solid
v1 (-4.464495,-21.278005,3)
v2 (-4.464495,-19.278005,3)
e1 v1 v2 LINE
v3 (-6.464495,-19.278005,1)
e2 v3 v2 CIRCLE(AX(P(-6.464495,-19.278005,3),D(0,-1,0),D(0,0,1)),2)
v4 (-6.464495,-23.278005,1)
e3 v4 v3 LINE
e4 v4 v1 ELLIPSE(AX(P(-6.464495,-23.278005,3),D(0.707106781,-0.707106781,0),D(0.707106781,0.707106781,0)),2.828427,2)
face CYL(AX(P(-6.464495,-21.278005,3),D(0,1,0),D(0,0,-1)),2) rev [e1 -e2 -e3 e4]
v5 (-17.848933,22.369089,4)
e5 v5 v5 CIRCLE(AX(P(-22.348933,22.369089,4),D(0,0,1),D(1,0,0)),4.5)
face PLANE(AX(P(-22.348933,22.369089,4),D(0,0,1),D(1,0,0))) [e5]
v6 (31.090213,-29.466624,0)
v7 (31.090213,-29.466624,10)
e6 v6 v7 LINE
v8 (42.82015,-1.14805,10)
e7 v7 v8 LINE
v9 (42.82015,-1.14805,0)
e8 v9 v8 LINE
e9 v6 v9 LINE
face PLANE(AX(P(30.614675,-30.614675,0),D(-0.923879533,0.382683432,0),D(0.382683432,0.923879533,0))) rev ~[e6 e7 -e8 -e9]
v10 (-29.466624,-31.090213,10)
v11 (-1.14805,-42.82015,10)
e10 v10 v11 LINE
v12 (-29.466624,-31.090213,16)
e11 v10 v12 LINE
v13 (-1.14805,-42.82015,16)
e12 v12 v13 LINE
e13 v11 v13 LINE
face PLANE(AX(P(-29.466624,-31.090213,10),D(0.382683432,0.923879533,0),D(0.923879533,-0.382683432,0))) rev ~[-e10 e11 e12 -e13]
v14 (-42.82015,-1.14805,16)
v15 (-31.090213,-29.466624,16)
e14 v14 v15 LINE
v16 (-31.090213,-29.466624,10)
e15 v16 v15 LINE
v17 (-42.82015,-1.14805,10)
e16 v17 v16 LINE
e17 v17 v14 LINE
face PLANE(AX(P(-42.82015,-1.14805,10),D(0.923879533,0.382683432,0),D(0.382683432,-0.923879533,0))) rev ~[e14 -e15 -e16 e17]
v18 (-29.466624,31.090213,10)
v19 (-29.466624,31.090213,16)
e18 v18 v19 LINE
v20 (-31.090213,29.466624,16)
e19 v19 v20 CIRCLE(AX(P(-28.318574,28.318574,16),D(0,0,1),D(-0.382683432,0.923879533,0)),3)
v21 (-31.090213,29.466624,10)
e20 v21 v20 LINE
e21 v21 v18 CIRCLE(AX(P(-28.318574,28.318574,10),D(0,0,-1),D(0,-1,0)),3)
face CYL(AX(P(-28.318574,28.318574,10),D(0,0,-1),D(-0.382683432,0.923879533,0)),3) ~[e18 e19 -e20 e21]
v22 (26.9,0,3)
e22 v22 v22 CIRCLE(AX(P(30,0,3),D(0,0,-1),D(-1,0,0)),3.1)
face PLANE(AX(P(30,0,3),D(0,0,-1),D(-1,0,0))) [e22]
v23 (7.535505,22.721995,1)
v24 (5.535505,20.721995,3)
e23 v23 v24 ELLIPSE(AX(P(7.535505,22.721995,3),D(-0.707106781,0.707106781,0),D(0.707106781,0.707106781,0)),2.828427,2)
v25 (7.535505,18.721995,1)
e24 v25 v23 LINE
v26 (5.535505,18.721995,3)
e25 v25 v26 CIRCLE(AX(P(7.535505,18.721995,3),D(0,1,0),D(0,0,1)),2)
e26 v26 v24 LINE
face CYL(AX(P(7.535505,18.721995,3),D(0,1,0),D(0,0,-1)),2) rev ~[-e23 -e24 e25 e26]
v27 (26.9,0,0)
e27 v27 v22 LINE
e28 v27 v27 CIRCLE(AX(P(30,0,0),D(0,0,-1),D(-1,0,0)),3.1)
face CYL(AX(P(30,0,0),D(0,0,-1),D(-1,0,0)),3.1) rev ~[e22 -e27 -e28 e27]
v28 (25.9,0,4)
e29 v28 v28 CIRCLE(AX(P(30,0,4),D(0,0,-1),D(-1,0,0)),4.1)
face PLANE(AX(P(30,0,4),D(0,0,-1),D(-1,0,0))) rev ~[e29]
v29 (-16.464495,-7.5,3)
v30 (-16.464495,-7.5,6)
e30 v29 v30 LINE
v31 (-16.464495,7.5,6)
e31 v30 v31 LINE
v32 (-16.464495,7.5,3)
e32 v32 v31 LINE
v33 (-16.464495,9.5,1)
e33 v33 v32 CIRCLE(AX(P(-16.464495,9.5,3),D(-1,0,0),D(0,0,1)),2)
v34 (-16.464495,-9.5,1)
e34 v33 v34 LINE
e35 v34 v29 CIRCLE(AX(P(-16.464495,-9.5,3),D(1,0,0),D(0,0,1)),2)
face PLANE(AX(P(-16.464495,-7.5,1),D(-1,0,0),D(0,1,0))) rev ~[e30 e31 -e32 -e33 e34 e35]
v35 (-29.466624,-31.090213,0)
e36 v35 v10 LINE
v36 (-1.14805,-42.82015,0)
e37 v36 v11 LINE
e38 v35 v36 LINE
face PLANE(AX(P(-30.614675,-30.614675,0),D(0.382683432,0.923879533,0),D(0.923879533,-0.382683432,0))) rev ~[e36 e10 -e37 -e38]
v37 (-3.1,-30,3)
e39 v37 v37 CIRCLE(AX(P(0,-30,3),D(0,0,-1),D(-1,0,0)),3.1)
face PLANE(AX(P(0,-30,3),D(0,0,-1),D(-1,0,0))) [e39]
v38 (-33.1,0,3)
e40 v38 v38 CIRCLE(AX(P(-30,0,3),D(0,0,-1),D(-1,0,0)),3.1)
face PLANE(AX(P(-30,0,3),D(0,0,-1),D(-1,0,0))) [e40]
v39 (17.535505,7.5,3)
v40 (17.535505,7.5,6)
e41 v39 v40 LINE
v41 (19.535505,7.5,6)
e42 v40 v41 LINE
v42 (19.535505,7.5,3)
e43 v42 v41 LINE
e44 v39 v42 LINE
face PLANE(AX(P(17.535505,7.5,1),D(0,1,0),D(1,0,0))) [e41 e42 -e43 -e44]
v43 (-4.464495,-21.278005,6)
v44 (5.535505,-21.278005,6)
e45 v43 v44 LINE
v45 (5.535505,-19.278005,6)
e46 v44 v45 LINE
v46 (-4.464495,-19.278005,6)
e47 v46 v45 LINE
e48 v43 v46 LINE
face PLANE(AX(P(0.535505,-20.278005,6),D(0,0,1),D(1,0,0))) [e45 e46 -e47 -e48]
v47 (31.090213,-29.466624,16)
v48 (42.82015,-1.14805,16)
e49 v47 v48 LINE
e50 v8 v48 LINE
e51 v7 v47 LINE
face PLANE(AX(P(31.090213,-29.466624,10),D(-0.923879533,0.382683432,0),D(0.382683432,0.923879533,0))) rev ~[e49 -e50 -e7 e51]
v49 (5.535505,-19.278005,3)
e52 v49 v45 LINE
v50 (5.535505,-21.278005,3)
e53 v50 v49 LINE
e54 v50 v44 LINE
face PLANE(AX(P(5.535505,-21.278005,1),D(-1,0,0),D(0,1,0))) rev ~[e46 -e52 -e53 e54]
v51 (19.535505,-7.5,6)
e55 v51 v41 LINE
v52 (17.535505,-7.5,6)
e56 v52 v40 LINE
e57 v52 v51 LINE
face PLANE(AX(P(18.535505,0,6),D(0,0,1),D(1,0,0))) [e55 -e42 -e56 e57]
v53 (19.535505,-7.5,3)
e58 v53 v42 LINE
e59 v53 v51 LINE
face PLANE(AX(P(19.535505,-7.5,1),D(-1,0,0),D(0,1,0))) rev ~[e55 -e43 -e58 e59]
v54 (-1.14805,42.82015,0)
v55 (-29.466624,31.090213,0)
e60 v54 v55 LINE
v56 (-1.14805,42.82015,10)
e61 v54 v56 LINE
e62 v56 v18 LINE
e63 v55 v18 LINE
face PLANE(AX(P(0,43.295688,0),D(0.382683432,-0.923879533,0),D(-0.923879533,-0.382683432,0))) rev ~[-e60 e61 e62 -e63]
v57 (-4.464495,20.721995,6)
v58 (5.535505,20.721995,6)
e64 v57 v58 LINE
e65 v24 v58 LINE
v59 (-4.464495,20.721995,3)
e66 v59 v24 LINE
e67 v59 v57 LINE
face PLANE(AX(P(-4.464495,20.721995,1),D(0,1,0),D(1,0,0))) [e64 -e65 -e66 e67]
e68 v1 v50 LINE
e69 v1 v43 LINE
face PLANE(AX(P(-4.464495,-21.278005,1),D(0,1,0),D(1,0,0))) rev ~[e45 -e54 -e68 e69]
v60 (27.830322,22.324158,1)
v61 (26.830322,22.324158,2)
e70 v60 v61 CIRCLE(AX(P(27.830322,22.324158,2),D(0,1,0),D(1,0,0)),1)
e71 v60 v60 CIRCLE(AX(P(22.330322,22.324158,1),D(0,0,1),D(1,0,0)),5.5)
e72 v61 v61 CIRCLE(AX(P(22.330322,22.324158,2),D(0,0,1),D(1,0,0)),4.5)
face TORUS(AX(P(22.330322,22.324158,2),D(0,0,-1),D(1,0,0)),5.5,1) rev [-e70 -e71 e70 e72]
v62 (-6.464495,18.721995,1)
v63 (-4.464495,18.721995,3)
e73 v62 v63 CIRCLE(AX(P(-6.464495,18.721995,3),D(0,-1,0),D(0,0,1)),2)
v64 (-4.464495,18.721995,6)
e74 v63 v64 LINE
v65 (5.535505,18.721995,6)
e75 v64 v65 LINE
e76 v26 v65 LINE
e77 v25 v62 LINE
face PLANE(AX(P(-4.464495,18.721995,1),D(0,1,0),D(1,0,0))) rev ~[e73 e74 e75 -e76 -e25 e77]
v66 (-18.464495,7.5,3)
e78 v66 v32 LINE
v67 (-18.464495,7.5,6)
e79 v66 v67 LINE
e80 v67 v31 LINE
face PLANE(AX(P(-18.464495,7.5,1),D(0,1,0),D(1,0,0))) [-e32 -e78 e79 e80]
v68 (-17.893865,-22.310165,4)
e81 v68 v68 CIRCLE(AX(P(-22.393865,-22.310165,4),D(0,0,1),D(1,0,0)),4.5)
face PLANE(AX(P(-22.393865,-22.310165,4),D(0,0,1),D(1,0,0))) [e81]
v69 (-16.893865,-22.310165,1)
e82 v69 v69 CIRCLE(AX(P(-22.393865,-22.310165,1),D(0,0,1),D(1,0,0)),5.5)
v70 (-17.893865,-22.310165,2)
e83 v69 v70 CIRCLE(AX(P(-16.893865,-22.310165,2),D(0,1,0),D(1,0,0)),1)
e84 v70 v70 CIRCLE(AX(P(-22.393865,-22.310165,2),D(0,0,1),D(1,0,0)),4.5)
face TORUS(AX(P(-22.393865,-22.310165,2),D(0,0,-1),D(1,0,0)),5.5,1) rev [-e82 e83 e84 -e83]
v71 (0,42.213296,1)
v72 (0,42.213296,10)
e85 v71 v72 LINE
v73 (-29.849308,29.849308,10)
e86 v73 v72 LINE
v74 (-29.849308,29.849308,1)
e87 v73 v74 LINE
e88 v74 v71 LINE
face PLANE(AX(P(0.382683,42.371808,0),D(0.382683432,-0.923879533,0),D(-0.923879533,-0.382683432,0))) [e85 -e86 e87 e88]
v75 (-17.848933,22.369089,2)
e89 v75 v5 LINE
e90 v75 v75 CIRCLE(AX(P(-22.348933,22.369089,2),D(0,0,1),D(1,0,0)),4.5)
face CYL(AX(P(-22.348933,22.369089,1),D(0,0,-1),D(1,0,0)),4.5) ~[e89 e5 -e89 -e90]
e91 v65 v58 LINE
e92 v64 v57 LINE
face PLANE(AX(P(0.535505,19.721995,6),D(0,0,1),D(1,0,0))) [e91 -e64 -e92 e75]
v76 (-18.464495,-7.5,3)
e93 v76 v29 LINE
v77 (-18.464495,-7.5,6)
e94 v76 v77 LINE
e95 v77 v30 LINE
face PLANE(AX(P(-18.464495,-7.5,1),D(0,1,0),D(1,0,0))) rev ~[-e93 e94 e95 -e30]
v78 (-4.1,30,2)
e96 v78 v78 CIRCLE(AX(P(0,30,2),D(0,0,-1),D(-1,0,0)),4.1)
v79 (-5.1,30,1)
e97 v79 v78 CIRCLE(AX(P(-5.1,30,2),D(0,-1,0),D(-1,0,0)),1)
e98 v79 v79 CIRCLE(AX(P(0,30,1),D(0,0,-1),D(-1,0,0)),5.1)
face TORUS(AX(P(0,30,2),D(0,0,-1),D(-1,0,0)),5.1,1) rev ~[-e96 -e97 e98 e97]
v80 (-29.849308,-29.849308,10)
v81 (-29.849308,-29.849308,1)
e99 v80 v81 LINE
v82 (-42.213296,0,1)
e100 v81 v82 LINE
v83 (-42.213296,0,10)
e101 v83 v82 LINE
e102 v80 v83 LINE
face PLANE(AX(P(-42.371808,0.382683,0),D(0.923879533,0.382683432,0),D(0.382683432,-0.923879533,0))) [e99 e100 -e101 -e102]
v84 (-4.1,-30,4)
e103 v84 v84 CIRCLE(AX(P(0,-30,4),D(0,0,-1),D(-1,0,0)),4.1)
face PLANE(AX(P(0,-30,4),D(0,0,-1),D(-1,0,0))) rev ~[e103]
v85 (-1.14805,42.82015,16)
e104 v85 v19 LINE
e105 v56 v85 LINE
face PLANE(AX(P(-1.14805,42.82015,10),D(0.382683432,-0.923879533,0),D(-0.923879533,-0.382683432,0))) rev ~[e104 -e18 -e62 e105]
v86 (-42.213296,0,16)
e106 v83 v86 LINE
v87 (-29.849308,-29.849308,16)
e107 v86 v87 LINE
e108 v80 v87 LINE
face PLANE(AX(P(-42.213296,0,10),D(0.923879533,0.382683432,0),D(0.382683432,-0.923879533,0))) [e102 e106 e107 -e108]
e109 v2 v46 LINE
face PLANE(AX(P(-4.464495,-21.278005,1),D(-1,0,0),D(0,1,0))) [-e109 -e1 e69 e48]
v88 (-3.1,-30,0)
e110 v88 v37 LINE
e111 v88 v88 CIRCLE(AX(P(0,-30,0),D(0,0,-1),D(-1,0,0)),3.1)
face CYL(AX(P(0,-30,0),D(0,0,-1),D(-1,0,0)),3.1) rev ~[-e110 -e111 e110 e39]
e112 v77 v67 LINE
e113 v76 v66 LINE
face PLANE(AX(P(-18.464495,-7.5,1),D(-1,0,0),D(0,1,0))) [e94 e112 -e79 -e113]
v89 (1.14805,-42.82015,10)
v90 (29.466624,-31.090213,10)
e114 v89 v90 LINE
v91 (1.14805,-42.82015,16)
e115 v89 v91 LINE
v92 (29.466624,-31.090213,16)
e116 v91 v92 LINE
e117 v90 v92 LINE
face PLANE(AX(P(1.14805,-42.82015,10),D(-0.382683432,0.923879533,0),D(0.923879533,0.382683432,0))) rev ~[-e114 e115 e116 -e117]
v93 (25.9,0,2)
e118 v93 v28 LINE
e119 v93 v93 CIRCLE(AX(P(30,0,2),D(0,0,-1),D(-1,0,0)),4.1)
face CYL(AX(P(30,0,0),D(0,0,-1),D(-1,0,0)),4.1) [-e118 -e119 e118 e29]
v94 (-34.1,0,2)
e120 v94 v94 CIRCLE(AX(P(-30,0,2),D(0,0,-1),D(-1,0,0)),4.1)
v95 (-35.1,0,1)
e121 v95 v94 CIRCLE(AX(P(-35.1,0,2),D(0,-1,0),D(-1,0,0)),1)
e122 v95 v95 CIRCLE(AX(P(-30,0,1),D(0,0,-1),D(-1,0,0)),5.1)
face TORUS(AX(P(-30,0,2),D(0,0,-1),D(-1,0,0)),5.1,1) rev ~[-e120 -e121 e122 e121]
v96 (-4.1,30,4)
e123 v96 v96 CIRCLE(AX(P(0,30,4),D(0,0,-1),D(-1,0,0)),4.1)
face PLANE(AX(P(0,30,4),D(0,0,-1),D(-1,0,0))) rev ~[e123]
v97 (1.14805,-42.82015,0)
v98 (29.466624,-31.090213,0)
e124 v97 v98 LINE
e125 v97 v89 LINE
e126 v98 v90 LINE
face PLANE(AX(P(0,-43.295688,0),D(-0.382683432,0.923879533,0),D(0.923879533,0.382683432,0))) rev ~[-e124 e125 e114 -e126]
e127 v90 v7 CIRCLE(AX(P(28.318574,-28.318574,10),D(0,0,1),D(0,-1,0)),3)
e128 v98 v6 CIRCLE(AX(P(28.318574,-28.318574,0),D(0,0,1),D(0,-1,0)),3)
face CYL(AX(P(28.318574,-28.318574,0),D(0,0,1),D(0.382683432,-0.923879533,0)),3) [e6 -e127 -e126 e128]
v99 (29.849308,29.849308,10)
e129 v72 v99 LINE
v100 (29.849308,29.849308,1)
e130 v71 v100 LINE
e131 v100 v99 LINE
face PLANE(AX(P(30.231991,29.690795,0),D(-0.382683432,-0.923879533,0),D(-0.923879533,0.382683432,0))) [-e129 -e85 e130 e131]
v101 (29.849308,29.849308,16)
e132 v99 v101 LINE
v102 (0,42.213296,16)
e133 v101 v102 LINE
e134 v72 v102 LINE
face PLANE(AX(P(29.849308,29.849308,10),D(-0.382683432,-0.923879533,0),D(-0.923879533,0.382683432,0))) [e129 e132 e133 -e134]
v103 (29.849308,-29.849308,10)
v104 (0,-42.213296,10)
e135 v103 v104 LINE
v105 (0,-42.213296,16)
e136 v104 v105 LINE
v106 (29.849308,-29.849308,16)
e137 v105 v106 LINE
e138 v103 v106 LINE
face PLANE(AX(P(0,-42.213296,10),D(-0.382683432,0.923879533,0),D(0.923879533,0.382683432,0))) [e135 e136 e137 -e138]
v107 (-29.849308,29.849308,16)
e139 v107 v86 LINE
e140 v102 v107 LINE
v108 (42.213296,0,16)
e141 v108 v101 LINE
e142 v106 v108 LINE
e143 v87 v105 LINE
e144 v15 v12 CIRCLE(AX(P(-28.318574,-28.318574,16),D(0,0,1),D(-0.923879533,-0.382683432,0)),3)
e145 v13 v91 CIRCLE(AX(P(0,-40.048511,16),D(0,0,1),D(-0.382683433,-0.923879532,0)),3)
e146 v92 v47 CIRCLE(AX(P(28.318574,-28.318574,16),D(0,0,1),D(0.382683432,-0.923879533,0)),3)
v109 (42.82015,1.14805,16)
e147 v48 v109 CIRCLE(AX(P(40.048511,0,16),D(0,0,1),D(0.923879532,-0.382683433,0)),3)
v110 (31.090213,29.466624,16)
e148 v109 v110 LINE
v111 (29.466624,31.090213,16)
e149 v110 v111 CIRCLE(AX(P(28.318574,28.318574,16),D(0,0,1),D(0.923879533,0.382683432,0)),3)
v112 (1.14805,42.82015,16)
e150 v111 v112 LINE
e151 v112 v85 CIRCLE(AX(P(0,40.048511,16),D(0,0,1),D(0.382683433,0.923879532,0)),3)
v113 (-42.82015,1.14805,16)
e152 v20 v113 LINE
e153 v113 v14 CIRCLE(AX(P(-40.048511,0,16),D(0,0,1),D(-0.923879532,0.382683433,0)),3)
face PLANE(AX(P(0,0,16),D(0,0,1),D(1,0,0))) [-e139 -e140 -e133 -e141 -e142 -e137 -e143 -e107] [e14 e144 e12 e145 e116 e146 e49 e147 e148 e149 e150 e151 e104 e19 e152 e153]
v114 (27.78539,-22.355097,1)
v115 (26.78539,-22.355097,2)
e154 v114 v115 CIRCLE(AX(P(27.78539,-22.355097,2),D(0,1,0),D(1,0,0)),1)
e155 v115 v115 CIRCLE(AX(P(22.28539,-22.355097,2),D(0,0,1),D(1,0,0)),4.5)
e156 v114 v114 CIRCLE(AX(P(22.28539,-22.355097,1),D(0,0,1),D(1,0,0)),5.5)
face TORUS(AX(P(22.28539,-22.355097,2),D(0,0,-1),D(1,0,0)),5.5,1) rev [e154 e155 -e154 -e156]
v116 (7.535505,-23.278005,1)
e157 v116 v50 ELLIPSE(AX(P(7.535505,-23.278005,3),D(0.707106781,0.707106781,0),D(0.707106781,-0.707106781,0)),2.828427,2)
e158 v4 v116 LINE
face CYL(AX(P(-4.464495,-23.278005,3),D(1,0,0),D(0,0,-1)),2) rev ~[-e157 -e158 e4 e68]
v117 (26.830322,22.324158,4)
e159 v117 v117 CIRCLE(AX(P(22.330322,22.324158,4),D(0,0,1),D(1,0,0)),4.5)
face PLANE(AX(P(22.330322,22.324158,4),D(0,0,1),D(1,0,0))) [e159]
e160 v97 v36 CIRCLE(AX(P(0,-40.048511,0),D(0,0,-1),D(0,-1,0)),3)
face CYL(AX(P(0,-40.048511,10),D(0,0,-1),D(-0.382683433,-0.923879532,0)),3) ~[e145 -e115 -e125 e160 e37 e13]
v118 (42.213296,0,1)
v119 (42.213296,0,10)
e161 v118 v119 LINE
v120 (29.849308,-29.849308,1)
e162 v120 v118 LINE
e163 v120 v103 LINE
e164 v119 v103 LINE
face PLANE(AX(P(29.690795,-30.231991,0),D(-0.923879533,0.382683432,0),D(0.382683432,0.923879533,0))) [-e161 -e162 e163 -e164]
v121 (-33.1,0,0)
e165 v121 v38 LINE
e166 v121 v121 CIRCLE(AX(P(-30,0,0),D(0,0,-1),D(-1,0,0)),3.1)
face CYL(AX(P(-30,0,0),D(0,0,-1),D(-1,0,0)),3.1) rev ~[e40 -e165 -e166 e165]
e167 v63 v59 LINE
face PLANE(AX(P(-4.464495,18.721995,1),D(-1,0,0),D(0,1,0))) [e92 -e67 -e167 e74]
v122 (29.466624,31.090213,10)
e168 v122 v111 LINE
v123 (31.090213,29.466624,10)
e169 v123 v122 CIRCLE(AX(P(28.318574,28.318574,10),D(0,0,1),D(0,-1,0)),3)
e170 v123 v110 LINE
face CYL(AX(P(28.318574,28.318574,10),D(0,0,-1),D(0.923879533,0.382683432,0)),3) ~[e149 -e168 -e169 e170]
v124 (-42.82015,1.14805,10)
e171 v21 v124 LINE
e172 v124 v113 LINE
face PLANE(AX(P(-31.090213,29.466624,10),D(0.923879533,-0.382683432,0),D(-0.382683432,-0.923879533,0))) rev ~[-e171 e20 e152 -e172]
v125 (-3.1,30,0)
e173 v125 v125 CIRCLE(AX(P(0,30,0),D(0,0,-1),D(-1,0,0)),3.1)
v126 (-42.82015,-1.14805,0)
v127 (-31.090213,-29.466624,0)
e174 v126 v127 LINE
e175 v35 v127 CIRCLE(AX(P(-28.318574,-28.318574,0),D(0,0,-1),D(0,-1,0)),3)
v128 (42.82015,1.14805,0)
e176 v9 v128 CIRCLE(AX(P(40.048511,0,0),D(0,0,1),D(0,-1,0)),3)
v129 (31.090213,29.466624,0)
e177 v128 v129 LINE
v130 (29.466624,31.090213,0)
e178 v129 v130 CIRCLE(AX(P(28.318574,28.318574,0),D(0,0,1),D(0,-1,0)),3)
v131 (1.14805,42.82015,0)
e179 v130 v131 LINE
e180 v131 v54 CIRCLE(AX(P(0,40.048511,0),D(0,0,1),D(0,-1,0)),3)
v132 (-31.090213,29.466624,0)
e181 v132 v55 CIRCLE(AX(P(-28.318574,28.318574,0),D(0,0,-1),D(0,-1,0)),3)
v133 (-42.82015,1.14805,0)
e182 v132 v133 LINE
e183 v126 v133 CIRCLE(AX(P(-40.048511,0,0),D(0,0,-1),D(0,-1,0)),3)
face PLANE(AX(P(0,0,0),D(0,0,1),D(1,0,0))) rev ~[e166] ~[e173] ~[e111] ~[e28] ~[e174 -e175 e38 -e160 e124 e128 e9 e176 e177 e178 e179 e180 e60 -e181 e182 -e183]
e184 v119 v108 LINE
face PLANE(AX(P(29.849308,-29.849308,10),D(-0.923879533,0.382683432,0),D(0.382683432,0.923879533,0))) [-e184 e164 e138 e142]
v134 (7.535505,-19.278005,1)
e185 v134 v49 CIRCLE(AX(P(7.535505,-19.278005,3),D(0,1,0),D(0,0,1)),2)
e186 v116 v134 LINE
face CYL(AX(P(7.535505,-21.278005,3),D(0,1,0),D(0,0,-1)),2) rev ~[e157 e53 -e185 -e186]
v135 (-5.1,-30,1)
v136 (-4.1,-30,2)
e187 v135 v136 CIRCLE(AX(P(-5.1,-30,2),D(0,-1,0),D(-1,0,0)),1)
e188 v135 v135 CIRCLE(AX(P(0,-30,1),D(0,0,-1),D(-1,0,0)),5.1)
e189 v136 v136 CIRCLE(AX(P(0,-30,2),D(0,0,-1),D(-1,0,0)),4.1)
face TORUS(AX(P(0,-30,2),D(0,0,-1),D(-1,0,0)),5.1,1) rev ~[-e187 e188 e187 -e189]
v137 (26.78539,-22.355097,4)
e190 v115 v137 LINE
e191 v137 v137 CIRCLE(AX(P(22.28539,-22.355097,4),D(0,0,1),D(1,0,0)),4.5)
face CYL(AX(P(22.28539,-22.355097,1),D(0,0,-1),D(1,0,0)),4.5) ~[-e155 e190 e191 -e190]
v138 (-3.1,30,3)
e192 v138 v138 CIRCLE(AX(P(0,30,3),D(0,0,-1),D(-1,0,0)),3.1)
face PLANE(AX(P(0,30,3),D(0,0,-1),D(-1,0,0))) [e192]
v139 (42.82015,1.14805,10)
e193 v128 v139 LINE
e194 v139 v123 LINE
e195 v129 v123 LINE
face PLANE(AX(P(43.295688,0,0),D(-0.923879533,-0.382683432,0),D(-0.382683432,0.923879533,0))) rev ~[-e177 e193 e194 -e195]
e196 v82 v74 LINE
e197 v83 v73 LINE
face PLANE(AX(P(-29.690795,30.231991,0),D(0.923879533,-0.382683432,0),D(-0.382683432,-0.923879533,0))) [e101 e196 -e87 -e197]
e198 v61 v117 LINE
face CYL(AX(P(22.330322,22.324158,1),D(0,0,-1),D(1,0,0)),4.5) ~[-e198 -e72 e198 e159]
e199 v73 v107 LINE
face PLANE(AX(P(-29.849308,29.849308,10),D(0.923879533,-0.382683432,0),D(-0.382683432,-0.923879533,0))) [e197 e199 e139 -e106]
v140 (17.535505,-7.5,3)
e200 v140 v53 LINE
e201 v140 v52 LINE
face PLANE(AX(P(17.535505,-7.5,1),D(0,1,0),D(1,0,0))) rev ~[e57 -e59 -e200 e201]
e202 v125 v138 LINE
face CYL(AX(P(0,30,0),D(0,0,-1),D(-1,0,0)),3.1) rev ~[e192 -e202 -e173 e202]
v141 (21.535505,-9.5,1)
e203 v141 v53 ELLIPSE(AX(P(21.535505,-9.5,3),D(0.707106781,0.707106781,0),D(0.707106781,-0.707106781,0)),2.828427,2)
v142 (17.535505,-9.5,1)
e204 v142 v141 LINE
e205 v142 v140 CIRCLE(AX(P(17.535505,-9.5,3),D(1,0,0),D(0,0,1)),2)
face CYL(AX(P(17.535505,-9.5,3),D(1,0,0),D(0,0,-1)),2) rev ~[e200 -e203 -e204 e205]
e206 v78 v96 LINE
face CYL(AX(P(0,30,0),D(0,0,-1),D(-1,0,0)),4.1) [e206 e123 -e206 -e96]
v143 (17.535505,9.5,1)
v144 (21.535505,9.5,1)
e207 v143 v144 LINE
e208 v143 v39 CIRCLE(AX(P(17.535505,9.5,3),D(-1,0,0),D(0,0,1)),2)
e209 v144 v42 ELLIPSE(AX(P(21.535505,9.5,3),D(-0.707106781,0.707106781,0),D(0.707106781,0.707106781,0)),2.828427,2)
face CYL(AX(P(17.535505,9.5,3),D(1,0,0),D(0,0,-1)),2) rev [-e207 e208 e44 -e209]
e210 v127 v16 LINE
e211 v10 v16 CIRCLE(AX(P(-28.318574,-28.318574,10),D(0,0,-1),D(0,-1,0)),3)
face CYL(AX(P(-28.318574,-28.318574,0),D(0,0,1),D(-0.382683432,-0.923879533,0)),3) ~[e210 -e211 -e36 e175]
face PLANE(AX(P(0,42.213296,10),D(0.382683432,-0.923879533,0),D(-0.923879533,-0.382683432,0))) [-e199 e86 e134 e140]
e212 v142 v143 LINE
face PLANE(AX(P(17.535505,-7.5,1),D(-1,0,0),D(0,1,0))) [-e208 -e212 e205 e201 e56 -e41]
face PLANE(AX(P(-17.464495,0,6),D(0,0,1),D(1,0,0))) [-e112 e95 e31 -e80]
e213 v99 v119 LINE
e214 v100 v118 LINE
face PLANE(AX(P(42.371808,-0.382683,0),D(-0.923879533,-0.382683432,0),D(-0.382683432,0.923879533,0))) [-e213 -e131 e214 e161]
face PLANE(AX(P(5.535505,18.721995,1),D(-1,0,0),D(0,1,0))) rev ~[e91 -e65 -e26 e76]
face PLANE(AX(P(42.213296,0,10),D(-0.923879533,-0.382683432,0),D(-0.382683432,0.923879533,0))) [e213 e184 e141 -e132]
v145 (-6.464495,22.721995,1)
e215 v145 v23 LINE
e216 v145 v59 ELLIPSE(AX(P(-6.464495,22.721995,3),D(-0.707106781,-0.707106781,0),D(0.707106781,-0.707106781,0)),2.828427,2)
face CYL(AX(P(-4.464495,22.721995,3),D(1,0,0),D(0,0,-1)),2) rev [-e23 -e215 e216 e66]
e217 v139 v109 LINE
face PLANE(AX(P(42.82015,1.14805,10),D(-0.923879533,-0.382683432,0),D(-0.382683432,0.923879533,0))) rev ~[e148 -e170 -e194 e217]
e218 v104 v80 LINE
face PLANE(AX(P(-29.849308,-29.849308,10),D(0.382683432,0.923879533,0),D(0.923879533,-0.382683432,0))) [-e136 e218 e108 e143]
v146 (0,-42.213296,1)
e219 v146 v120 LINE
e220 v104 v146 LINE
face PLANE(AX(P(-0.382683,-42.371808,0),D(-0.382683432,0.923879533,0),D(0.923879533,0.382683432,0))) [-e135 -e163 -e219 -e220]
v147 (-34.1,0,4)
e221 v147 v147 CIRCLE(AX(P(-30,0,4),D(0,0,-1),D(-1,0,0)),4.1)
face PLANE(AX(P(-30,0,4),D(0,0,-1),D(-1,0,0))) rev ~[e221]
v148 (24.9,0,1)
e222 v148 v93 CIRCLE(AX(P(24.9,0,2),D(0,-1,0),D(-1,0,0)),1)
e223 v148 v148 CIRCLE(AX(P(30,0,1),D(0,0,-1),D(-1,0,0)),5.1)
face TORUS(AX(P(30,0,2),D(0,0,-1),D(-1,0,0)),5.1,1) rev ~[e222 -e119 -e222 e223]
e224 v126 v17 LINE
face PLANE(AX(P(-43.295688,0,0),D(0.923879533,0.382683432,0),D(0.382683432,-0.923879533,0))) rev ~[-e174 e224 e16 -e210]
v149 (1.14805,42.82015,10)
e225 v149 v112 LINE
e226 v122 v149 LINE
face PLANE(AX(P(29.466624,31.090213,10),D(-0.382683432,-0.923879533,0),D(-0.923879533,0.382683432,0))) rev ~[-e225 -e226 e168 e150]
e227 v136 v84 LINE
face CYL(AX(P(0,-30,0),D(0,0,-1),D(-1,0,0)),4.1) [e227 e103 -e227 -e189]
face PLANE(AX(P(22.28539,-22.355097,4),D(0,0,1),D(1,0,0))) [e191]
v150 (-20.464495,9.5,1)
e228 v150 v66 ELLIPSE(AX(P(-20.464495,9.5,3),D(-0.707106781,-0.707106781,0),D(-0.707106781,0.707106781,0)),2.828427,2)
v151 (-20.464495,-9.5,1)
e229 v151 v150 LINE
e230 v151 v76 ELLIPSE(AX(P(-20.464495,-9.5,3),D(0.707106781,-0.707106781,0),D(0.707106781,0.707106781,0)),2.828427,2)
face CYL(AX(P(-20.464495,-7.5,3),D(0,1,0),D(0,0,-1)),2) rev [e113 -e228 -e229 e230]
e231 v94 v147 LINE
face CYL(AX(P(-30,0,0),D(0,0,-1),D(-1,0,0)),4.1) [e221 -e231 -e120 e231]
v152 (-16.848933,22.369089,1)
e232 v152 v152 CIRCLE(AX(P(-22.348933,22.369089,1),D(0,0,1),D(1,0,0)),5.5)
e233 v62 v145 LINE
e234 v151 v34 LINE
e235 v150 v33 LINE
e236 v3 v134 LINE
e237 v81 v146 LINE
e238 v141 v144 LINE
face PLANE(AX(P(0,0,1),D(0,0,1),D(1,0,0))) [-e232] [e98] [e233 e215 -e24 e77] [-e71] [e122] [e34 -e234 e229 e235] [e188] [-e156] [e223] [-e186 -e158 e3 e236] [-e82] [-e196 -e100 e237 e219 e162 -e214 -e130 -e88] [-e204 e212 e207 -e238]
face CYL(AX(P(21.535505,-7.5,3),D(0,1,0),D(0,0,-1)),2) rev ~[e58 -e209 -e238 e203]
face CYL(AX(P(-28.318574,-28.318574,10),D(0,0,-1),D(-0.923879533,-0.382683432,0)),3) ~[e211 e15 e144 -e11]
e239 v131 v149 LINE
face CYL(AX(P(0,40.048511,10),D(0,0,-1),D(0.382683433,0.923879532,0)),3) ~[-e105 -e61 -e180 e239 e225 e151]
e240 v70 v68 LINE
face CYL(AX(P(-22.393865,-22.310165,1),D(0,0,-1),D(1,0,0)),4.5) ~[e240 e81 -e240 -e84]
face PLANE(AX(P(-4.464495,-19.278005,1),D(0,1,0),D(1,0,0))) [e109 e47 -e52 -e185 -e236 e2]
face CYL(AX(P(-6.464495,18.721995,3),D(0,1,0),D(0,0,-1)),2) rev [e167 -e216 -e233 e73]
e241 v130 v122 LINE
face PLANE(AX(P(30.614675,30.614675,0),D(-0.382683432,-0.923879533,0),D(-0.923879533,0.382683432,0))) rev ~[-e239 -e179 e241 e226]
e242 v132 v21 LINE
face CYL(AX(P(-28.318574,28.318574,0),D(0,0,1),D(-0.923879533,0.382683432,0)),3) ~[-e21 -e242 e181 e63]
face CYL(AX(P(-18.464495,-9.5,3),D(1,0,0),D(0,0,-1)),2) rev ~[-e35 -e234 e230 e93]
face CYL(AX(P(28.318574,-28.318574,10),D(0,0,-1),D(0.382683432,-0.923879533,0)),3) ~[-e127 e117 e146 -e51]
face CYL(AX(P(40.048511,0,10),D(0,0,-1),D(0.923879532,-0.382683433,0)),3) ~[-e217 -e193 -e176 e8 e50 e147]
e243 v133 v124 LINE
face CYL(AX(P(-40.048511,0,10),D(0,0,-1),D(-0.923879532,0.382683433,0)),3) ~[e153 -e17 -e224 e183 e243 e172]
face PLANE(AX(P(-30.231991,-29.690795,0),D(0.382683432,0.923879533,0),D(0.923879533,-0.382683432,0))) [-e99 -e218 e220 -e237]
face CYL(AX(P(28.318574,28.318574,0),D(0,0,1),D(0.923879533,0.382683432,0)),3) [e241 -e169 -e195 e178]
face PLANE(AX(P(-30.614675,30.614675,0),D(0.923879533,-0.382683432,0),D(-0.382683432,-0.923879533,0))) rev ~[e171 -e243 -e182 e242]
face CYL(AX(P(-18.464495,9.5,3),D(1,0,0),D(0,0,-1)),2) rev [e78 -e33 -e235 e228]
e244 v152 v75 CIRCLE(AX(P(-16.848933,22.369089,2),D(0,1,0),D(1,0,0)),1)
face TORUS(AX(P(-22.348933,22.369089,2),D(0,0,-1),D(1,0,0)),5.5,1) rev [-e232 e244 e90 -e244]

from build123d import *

# Parameters (mm, degrees)
BOSS_EXTRU_1_DEPTH      = 10
ESQUISSE2_R             = 3.1
ENL_V_MAT_EXTRU_1_DEPTH = 3
COQUE2_T                = -1
ESQUISSE5_R             = 4.5
BOSS_EXTRU_3_DEPTH      = 3
CONG_1_R                = 3
CONG_4_R                = 1
ESQUISSE6_W             = 2
ESQUISSE6_H             = 15
ESQUISSE6_W_2           = 10
ESQUISSE6_H_2           = 2
BOSS_EXTRU_4_DEPTH      = 5
CONG_5_R                = 2
BOSS_EXTRU_5_DEPTH      = 6


with BuildPart() as part:
    # Esquisse1 → Boss.-Extru.1 (new body)
    with BuildSketch(Plane.XY):
        Polygon((0, -43.295688012), (30.614674589, -30.614674589), (43.295688012, 0), (30.614674589, 30.614674589), (0, 43.295688012), (-30.614674589, 30.614674589), (-43.295688012, 0), (-30.614674589, -30.614674589), align=None)
    extrude(amount=BOSS_EXTRU_1_DEPTH)

    # Esquisse2 → Enlèv. mat.-Extru.1 (cut)
    with BuildSketch(Plane(origin=(0, 0, 0), x_dir=(-1, 0, 0), z_dir=(0, 0, -1))):
        with Locations((0, 30)):
            Circle(ESQUISSE2_R)
        with Locations((30, 0)):
            Circle(ESQUISSE2_R)
        with Locations((0, -30)):
            Circle(ESQUISSE2_R)
        with Locations((-30, 0)):
            Circle(ESQUISSE2_R)
    extrude(amount=-ENL_V_MAT_EXTRU_1_DEPTH, mode=Mode.SUBTRACT)

    # Coque2
    coque2_openings = [part.faces().sort_by_distance(p)[0] for p in [
        (0, 0, 10),
    ]]
    offset(amount=COQUE2_T, openings=coque2_openings, kind=Kind.INTERSECTION)

    # Esquisse5 → Boss.-Extru.3 (add)
    with BuildSketch(Plane.XY.offset(1)):
        with Locations((-22.348932936, 22.369089211)):
            Circle(ESQUISSE5_R)
        with Locations((-22.393864563, -22.310165371)):
            Circle(ESQUISSE5_R)
        with Locations((22.285390019, -22.355096998)):
            Circle(ESQUISSE5_R)
        with Locations((22.330321646, 22.324157584)):
            Circle(ESQUISSE5_R)
    extrude(amount=BOSS_EXTRU_3_DEPTH)

    # Congé1
    cong_1_edges = [part.edges().sort_by_distance(p)[0] for p in [
        (30.614674589, -30.614674589, 5),
        (0, -43.295688012, 5),
        (-30.614674589, -30.614674589, 5),
        (-43.295688012, 0, 5),
        (-30.614674589, 30.614674589, 5),
        (0, 43.295688012, 5),
        (30.614674589, 30.614674589, 5),
        (43.295688012, 0, 5),
    ]]
    fillet(cong_1_edges, radius=CONG_1_R)

    # Congé4
    cong_4_edges = [part.edges().sort_by_distance(p)[0] for p in [
        (34.1, 0, 1),
        (4.1, -30, 1),
        (-25.9, 0, 1),
        (4.1, 30, 1),
        (-26.848932936, 22.369089211, 1),
        (-26.893864563, -22.310165371, 1),
        (17.785390019, -22.355096998, 1),
        (17.830321646, 22.324157584, 1),
    ]]
    fillet(cong_4_edges, radius=CONG_4_R)

    # Esquisse6 → Boss.-Extru.4 (add)
    with BuildSketch(Plane.XY.offset(1)):
        with Locations((-17.464495368, 0)):
            Rectangle(ESQUISSE6_W, ESQUISSE6_H)
        with Locations((18.535504632, 0)):
            Rectangle(ESQUISSE6_W, ESQUISSE6_H)
        with Locations((0.535504632, 19.72199452)):
            Rectangle(ESQUISSE6_W_2, ESQUISSE6_H_2)
        with Locations((0.535504632, -20.27800548)):
            Rectangle(ESQUISSE6_W_2, ESQUISSE6_H_2)
    extrude(amount=BOSS_EXTRU_4_DEPTH)

    # Congé5
    cong_5_edges = [part.edges().sort_by_distance(p)[0] for p in [
        (-18.464495368, 0, 1),
        (-17.464495368, -7.5, 1),
        (-17.464495368, 7.5, 1),
        (18.535504632, -7.5, 1),
        (19.535504632, 0, 1),
        (18.535504632, 7.5, 1),
        (0.535504632, 20.72199452, 1),
        (-4.464495368, 19.72199452, 1),
        (5.535504632, 19.72199452, 1),
        (-4.464495368, -20.27800548, 1),
        (0.535504632, -21.27800548, 1),
        (5.535504632, -20.27800548, 1),
    ]]
    fillet(cong_5_edges, radius=CONG_5_R)

    # Esquisse7 → Boss.-Extru.5 (add)
    with BuildSketch(Plane.XY.offset(10)):
        with BuildLine():
            Line((-1.148050297, 42.820150008), (-29.466624292, 31.090212593))
            ThreePointArc((-29.466624292, 31.090212593), (-30.439894339, 30.439894339), (-31.090212593, 29.466624292))
            Line((-31.090212593, 29.466624292), (-42.820150008, 1.148050297))
            ThreePointArc((-42.820150008, 1.148050297), (-43.048511411, 0), (-42.820150008, -1.148050297))
            Line((-42.820150008, -1.148050297), (-31.090212593, -29.466624292))
            ThreePointArc((-31.090212593, -29.466624292), (-30.439894339, -30.439894339), (-29.466624292, -31.090212593))
            Line((-29.466624292, -31.090212593), (-1.148050297, -42.820150008))
            ThreePointArc((-1.148050297, -42.820150008), (0, -43.048511411), (1.148050297, -42.820150008))
            Line((1.148050297, -42.820150008), (29.466624292, -31.090212593))
            ThreePointArc((29.466624292, -31.090212593), (30.439894339, -30.439894339), (31.090212593, -29.466624292))
            Line((31.090212593, -29.466624292), (42.820150008, -1.148050297))
            ThreePointArc((42.820150008, -1.148050297), (43.048511411, 0), (42.820150008, 1.148050297))
            Line((42.820150008, 1.148050297), (31.090212593, 29.466624292))
            ThreePointArc((31.090212593, 29.466624292), (30.439894339, 30.439894339), (29.466624292, 31.090212593))
            Line((29.466624292, 31.090212593), (1.148050297, 42.820150008))
            ThreePointArc((1.148050297, 42.820150008), (0, 43.048511411), (-1.148050297, 42.820150008))
        make_face()
        Polygon((-42.213295811, 0), (-29.849307724, -29.849307724), (0, -42.213295811), (29.849307724, -29.849307724), (42.213295811, 0), (29.849307724, 29.849307724), (0, 42.213295811), (-29.849307724, 29.849307724), align=None, mode=Mode.SUBTRACT)
    extrude(amount=BOSS_EXTRU_5_DEPTH)


solid = part.part
